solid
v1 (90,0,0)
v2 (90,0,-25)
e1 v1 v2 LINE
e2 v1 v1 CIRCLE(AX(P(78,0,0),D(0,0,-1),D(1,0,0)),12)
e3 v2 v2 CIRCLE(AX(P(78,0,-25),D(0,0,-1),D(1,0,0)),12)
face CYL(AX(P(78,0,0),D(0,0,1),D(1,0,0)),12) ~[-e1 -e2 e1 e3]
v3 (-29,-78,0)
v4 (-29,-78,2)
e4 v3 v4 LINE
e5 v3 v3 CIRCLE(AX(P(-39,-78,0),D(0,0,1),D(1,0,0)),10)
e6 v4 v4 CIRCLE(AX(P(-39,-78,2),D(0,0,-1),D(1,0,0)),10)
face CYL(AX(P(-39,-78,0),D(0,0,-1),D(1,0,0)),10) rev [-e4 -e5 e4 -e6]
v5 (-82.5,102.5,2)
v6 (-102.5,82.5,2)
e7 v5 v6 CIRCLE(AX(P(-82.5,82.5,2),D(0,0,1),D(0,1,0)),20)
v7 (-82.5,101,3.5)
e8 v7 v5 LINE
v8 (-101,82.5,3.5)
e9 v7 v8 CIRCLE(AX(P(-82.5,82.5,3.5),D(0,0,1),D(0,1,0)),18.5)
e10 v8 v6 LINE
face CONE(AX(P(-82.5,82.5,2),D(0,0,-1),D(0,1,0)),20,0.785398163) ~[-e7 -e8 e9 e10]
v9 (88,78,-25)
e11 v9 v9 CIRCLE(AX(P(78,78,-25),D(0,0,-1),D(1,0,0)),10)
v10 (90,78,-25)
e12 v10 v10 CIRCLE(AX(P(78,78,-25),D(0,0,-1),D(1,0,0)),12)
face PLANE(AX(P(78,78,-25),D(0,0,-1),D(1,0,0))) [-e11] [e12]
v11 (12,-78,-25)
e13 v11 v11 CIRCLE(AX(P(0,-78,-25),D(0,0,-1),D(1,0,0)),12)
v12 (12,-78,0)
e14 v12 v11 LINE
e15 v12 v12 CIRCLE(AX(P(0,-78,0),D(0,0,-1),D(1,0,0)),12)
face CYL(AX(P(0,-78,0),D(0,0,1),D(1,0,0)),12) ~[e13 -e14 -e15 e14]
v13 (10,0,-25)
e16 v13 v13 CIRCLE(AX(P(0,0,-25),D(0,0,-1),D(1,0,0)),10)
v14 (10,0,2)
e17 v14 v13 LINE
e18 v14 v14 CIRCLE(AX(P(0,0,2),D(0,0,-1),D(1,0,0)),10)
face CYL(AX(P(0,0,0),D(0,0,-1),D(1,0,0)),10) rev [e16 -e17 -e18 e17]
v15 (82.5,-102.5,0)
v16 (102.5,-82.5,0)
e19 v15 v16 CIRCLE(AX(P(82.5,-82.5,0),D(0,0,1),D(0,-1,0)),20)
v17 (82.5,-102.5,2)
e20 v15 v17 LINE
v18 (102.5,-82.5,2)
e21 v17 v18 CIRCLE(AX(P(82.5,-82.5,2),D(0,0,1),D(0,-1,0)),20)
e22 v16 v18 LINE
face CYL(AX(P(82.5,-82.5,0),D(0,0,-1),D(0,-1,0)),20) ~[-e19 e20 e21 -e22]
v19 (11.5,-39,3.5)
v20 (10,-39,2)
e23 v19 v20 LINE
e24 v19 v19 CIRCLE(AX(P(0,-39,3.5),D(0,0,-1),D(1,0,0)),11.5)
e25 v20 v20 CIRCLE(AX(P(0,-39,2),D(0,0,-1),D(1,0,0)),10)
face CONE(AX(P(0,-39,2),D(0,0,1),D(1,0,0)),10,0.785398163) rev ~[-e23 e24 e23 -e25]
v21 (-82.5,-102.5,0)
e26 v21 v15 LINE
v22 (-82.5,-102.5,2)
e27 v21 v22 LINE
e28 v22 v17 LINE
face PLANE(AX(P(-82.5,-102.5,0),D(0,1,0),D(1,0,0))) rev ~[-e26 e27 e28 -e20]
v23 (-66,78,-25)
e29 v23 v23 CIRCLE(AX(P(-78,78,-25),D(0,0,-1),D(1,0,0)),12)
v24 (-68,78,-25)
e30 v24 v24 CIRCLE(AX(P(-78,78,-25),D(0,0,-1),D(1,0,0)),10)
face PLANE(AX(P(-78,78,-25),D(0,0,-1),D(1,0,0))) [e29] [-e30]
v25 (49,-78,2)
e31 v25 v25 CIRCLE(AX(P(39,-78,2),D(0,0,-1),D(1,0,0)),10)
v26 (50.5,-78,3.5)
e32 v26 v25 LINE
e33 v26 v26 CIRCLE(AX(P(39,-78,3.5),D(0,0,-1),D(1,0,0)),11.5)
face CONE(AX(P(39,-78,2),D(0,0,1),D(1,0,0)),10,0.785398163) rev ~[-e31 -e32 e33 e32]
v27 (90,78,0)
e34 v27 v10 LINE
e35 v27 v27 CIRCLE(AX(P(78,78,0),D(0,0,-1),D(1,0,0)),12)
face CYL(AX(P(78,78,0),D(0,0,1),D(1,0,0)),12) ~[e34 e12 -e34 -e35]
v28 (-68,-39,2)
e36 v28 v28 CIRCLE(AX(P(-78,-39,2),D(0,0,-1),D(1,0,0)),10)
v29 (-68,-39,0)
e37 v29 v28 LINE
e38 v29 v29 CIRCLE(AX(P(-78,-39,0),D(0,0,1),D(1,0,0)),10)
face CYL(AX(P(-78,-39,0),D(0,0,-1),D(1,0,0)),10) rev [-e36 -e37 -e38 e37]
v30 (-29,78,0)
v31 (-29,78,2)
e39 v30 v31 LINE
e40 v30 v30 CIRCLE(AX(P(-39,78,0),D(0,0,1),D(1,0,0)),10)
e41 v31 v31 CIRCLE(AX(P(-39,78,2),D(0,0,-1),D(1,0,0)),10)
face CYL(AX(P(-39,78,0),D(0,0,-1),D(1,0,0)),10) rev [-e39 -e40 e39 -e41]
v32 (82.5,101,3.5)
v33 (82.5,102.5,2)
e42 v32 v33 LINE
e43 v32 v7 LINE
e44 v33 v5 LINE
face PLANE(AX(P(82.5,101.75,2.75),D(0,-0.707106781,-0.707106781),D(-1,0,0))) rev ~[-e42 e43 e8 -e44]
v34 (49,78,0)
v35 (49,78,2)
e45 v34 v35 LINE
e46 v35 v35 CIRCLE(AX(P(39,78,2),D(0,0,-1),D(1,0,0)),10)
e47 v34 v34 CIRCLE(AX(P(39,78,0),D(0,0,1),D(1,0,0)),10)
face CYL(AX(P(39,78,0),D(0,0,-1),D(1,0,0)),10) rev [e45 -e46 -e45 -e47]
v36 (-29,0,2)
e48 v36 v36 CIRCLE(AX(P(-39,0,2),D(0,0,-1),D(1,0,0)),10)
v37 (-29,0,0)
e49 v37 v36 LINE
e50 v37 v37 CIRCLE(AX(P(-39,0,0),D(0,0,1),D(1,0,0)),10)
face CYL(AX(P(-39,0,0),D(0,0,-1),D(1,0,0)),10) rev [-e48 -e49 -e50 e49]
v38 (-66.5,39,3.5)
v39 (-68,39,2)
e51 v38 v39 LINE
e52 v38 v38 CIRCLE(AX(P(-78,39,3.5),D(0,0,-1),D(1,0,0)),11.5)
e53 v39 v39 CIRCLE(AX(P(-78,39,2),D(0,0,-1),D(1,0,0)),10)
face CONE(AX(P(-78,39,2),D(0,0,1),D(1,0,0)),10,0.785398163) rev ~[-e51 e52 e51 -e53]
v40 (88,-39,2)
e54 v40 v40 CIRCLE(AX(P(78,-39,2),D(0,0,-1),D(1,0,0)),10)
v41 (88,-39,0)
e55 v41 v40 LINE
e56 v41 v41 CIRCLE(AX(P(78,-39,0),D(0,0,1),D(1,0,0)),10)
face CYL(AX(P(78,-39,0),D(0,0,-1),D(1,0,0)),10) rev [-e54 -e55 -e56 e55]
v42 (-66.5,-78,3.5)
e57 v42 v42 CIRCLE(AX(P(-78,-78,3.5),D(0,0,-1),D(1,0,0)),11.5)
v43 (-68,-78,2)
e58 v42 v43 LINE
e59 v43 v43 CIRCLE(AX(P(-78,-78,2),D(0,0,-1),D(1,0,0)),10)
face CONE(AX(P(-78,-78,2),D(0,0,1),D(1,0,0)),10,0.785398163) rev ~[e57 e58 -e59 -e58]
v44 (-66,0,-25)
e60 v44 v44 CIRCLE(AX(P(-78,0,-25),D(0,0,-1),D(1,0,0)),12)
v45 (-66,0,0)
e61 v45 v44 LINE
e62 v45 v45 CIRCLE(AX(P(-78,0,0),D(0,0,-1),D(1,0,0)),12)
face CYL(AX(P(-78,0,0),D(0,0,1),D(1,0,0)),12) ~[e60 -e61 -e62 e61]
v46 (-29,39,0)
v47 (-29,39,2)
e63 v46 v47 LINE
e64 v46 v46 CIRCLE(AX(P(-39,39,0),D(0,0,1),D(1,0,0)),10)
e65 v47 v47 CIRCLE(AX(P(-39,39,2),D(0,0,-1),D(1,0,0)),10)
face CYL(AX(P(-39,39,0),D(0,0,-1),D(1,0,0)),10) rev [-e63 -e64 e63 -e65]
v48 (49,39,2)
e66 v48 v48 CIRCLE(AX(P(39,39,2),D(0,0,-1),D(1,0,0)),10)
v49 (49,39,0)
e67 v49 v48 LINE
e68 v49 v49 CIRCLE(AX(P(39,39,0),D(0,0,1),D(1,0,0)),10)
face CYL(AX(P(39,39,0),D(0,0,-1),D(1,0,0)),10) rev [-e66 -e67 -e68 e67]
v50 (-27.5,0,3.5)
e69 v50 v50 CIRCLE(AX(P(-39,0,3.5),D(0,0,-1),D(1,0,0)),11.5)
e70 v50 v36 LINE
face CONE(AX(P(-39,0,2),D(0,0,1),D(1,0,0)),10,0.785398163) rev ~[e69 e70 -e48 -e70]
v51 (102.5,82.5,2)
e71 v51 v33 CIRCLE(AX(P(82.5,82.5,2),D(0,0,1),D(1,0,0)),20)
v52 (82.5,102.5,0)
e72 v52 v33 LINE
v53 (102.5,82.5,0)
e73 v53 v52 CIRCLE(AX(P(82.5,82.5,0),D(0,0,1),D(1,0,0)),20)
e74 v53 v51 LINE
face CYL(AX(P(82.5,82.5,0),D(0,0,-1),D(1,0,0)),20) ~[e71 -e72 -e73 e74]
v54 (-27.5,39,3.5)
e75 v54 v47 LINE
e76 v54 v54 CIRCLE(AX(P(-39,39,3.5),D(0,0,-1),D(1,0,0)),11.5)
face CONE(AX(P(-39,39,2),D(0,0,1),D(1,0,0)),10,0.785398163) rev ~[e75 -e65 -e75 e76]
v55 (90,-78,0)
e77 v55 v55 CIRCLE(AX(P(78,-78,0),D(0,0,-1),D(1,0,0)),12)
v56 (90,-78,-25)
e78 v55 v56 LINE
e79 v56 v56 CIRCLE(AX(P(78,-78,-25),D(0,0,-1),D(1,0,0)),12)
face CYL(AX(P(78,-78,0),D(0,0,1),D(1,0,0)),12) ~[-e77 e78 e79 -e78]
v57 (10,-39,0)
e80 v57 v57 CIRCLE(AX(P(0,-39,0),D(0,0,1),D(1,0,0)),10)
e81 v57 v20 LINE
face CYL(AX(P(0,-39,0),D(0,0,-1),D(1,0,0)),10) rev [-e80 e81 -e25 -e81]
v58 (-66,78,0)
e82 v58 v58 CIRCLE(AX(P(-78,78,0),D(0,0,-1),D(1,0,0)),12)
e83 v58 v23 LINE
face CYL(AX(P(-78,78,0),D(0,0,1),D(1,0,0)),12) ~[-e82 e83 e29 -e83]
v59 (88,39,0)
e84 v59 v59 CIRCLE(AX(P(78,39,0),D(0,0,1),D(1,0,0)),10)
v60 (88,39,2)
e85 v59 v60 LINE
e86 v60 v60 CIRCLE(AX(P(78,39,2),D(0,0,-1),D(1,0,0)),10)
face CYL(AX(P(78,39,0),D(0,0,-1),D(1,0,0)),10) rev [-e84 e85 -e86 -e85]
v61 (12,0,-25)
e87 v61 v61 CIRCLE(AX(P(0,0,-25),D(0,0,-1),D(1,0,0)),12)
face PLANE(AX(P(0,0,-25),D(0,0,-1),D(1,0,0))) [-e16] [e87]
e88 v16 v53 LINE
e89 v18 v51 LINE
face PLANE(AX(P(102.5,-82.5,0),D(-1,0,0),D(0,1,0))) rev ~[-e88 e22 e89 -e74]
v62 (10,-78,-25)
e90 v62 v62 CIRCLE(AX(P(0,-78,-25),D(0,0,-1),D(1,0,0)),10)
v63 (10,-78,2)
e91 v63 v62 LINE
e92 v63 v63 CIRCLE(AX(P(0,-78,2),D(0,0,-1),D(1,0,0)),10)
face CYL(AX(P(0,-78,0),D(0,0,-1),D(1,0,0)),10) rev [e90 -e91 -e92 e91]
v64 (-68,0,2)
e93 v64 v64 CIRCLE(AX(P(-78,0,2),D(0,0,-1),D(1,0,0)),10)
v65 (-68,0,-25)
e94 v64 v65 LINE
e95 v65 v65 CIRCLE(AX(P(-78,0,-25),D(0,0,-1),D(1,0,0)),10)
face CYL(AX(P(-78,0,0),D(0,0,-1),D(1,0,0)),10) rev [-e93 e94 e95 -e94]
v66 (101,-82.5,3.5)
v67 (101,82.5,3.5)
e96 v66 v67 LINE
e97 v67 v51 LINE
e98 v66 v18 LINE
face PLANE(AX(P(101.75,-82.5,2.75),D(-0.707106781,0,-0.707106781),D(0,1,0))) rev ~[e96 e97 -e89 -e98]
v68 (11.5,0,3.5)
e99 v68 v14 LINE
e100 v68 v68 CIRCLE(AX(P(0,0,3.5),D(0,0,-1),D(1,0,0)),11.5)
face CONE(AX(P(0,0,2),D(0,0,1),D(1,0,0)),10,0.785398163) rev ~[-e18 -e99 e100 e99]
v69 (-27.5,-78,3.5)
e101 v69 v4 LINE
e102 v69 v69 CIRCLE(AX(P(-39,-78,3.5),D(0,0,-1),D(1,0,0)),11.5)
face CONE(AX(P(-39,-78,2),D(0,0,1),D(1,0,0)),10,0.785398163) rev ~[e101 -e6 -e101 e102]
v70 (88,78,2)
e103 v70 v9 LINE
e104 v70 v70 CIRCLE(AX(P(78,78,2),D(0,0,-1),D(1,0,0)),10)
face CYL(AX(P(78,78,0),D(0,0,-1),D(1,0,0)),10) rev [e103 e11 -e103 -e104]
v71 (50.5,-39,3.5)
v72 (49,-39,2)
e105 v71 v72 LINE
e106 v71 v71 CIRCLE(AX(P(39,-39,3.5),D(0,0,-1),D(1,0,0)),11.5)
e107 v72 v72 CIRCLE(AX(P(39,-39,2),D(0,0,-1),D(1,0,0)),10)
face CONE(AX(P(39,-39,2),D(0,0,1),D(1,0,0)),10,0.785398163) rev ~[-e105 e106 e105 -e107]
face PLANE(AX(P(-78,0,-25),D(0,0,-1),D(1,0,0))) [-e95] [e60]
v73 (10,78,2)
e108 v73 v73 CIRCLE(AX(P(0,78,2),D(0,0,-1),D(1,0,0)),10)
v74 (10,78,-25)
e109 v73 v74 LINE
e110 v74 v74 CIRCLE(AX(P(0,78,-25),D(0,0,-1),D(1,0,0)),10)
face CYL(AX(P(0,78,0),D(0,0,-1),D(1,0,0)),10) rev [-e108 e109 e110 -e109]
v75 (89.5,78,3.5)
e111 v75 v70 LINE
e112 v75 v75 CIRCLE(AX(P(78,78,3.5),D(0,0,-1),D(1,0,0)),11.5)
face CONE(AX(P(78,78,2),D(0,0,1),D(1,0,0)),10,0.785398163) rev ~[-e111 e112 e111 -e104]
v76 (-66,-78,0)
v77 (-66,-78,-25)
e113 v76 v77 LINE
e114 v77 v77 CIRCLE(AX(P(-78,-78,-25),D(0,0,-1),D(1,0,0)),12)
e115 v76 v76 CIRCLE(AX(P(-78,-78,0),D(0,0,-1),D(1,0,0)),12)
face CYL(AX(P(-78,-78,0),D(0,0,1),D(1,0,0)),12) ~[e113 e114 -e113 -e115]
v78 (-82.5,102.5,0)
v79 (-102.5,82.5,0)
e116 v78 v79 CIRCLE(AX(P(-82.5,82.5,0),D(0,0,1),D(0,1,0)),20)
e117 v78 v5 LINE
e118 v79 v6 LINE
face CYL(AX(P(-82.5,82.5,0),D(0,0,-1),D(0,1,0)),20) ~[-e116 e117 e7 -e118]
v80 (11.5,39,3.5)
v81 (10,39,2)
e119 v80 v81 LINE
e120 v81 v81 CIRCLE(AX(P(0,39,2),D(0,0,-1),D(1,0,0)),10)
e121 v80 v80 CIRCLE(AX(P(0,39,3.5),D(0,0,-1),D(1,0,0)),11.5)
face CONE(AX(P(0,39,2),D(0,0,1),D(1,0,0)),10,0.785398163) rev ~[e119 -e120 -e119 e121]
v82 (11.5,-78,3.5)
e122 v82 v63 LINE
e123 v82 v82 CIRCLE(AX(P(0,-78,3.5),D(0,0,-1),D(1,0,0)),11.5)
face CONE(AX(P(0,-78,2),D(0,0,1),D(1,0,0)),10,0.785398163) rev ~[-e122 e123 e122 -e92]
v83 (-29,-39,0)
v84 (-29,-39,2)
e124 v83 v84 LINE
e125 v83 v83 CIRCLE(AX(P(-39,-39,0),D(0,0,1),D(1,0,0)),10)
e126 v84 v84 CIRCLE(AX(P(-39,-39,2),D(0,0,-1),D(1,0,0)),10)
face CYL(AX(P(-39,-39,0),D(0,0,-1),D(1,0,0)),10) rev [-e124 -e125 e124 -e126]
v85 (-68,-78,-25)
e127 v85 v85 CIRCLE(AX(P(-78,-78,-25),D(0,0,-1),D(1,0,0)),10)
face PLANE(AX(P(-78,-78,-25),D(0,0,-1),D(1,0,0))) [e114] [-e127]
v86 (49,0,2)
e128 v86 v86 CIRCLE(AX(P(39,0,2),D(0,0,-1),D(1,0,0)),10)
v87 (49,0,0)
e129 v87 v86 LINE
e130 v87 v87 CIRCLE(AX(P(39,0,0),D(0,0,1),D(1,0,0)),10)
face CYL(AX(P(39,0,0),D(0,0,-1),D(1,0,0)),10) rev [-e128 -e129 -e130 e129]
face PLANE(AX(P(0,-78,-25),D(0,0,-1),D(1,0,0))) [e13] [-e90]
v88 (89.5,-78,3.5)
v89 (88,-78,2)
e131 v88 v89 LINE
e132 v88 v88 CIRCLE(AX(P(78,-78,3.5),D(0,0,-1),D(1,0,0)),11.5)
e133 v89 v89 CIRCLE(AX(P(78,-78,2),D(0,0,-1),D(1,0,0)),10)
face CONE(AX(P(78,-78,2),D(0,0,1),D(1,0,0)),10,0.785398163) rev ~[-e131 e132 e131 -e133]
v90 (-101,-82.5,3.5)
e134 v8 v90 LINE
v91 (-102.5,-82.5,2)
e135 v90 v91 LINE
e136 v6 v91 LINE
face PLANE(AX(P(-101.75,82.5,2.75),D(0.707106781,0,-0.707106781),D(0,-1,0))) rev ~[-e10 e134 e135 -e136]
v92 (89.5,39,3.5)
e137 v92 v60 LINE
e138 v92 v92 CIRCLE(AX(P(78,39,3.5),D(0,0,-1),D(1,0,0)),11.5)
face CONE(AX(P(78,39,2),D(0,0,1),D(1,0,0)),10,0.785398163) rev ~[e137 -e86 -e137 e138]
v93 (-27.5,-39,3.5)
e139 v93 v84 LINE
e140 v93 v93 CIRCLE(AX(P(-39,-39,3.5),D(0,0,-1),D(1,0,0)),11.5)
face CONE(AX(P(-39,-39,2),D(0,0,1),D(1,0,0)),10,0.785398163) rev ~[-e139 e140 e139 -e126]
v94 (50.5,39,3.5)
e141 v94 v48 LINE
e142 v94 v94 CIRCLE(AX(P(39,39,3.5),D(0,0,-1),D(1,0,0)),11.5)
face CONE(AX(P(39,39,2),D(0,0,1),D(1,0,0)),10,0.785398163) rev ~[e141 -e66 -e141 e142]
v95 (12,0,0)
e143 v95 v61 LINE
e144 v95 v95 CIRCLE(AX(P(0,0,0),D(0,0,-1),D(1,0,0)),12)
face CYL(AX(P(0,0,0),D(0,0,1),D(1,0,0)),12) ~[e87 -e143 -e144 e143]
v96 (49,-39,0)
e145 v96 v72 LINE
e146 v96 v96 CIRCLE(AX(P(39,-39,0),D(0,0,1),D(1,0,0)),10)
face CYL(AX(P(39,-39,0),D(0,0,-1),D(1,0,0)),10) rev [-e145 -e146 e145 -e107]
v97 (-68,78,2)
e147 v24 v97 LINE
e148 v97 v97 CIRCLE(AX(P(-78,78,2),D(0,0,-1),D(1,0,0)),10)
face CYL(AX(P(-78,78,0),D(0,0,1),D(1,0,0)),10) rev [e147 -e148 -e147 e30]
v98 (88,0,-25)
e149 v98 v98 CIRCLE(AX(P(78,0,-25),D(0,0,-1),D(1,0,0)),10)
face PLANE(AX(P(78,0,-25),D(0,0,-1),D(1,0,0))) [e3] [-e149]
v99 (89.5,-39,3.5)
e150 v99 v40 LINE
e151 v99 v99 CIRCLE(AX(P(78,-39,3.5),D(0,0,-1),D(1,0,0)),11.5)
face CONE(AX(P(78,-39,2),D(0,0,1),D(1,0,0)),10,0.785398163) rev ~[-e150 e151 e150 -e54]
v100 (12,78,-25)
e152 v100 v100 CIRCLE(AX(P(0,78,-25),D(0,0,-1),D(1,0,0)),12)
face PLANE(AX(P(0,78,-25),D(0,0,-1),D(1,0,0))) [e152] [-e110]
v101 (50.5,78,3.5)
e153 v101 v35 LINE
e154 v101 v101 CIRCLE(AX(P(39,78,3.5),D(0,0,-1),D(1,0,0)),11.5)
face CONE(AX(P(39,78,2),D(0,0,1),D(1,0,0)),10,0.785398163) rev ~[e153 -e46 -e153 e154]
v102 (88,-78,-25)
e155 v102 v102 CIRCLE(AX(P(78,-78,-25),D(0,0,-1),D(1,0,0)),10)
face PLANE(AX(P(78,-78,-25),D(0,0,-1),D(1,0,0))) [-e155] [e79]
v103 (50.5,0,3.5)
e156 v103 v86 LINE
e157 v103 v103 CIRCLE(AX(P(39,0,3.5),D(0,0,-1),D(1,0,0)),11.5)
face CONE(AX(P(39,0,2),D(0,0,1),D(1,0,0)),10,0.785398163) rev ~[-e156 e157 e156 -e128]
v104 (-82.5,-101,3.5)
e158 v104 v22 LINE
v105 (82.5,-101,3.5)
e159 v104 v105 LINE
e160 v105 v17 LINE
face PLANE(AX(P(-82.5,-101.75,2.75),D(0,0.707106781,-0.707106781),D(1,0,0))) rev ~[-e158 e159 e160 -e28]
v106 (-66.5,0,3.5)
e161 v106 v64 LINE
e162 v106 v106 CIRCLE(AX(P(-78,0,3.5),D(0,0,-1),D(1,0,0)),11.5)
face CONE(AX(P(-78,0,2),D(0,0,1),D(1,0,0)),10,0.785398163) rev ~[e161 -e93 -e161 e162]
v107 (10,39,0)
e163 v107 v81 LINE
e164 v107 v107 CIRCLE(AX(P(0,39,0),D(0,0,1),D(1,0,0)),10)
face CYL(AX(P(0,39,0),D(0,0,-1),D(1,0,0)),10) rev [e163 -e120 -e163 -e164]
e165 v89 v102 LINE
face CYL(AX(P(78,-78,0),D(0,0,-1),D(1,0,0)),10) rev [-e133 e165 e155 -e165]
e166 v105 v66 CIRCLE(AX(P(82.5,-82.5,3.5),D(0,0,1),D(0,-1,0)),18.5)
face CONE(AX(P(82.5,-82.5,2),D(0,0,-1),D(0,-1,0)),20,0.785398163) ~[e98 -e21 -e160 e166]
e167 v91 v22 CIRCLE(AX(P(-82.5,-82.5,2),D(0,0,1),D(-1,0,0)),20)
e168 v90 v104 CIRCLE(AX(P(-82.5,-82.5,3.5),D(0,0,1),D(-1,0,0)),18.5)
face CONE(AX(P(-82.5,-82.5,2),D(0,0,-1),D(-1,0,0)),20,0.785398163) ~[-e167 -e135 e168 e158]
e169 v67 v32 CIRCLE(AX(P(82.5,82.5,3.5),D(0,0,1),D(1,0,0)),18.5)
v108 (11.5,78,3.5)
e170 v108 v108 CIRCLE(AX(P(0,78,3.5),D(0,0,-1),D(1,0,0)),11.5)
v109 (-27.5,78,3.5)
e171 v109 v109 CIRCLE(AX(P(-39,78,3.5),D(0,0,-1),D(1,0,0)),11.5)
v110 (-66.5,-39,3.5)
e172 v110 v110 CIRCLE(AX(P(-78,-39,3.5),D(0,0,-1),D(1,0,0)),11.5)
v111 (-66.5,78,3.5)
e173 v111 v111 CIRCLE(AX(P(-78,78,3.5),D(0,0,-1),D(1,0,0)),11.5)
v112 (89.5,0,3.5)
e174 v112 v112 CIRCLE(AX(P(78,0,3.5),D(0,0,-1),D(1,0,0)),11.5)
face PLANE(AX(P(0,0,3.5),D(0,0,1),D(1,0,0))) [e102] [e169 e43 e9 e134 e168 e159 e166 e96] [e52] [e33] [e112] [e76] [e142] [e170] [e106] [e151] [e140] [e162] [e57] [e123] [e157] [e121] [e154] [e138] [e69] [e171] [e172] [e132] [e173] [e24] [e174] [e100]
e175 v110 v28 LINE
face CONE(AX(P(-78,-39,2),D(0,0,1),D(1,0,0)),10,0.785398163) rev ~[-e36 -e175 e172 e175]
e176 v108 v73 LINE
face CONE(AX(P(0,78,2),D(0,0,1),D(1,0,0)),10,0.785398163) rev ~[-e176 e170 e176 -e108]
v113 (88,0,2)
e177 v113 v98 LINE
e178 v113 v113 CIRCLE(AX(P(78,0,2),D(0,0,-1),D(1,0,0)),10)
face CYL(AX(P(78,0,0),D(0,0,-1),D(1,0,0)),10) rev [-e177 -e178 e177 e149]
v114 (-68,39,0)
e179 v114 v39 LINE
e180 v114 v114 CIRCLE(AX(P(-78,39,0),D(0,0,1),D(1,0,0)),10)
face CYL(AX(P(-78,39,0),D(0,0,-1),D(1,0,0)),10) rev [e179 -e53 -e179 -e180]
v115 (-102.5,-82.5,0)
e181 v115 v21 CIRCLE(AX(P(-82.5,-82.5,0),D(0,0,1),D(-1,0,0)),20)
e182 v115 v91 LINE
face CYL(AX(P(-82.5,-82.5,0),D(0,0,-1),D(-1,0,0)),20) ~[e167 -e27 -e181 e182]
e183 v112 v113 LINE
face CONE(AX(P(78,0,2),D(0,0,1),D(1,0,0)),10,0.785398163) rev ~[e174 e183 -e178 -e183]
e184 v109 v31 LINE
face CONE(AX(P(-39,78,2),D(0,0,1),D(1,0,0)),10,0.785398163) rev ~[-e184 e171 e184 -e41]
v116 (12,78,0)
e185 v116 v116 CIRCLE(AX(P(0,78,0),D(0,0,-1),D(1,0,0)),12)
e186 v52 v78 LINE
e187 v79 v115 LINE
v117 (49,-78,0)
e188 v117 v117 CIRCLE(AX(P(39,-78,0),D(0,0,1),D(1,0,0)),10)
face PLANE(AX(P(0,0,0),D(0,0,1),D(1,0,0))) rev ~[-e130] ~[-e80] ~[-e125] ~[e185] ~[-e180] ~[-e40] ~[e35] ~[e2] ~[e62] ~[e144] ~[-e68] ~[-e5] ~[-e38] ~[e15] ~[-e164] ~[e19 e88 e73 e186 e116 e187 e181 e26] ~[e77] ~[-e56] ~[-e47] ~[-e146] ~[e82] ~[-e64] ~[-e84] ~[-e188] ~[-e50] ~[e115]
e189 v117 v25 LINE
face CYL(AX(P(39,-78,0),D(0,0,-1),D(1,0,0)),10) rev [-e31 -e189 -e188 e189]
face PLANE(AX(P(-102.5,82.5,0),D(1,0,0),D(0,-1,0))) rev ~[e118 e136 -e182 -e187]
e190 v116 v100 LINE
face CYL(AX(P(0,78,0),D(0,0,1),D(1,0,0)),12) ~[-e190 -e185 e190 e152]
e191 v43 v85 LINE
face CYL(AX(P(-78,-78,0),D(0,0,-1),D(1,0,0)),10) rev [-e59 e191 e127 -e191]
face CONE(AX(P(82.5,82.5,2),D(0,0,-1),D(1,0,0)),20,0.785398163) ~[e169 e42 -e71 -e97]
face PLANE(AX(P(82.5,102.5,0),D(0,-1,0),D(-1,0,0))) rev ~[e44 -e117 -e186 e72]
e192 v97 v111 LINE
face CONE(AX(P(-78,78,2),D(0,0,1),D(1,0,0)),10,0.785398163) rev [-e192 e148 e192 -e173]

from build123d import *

# Parameters (mm, degrees)
F1_DEPTH = 3.5
F2_R     = 10
F3_DEPTH = 3.501
F4_R     = 12
F4_R_2   = 10
F5_DEPTH = 25
F6_SIZE  = 1.5


with BuildPart() as f1:
    # F0 (on Top) → F1 (new body)
    with BuildSketch(Plane.XY):
        with BuildLine():
            ThreePointArc((102.5, 82.5), (96.6421356237, 96.6421356237), (82.5, 102.5))
            Line((82.5, 102.5), (-82.5, 102.5))
            ThreePointArc((-82.5, 102.5), (-96.6421356237, 96.6421356237), (-102.5, 82.5))
            Line((-102.5, 82.5), (-102.5, -82.5))
            ThreePointArc((-102.5, -82.5), (-96.6421356237, -96.6421356237), (-82.5, -102.5))
            Line((-82.5, -102.5), (82.5, -102.5))
            ThreePointArc((82.5, -102.5), (96.6421356237, -96.6421356237), (102.5, -82.5))
            Line((102.5, -82.5), (102.5, 82.5))
        make_face()
    extrude(amount=F1_DEPTH)

    # F2 (on Top) → F3 (cut, through all)
    with BuildSketch(Plane.XY):
        with Locations((-78, 78)):
            Circle(F2_R)
        with Locations((-78, 39)):
            Circle(F2_R)
        with Locations((-78, 0)):
            Circle(F2_R)
        with Locations((-78, -39)):
            Circle(F2_R)
        with Locations((-78, -78)):
            Circle(F2_R)
        with Locations((-39, 78)):
            Circle(F2_R)
        with Locations((-39, 39)):
            Circle(F2_R)
        with Locations((-39, 0)):
            Circle(F2_R)
        with Locations((-39, -39)):
            Circle(F2_R)
        with Locations((-39, -78)):
            Circle(F2_R)
        with Locations((0, 78)):
            Circle(F2_R)
        with Locations((0, 39)):
            Circle(F2_R)
        Circle(F2_R)
        with Locations((0, -39)):
            Circle(F2_R)
        with Locations((0, -78)):
            Circle(F2_R)
        with Locations((39, 78)):
            Circle(F2_R)
        with Locations((39, 39)):
            Circle(F2_R)
        with Locations((39, 0)):
            Circle(F2_R)
        with Locations((39, -39)):
            Circle(F2_R)
        with Locations((39, -78)):
            Circle(F2_R)
        with Locations((78, 78)):
            Circle(F2_R)
        with Locations((78, 39)):
            Circle(F2_R)
        with Locations((78, 0)):
            Circle(F2_R)
        with Locations((78, -39)):
            Circle(F2_R)
        with Locations((78, -78)):
            Circle(F2_R)
    extrude(amount=F3_DEPTH, mode=Mode.SUBTRACT)

    # F4 (on face) → F5 (join)
    with BuildSketch(Plane(origin=(0, 0, 0), x_dir=(1, 0, 0), z_dir=(0, 0, -1))):
        with Locations((-78, -78)):
            Circle(F4_R)
        with Locations((-78, -78)):
            Circle(F4_R_2, mode=Mode.SUBTRACT)
        with Locations((-78, 0)):
            Circle(F4_R)
        with Locations((-78, 0)):
            Circle(F4_R_2, mode=Mode.SUBTRACT)
        with Locations((-78, 78)):
            Circle(F4_R)
        with Locations((-78, 78)):
            Circle(F4_R_2, mode=Mode.SUBTRACT)
        with Locations((0, -78)):
            Circle(F4_R)
        with Locations((0, -78)):
            Circle(F4_R_2, mode=Mode.SUBTRACT)
        Circle(F4_R)
        Circle(F4_R_2, mode=Mode.SUBTRACT)
        with Locations((0, 78)):
            Circle(F4_R)
        with Locations((0, 78)):
            Circle(F4_R_2, mode=Mode.SUBTRACT)
        with Locations((78, -78)):
            Circle(F4_R)
        with Locations((78, -78)):
            Circle(F4_R_2, mode=Mode.SUBTRACT)
        with Locations((78, 0)):
            Circle(F4_R)
        with Locations((78, 0)):
            Circle(F4_R_2, mode=Mode.SUBTRACT)
        with Locations((78, 78)):
            Circle(F4_R)
        with Locations((78, 78)):
            Circle(F4_R_2, mode=Mode.SUBTRACT)
    extrude(amount=F5_DEPTH)

    # F6
    f6_edges = [f1.edges().sort_by_distance(p)[0] for p in [
        (96.642136, 96.642136, 3.5),
        (102.5, 0, 3.5),
        (0, 102.5, 3.5),
        (96.642136, -96.642136, 3.5),
        (-96.642136, 96.642136, 3.5),
        (0, -102.5, 3.5),
        (-102.5, 0, 3.5),
        (-96.642136, -96.642136, 3.5),
        (-88, -78, 3.5),
        (-49, -78, 3.5),
        (-88, -39, 3.5),
        (-49, -39, 3.5),
        (-10, -78, 3.5),
        (29, -78, 3.5),
        (68, -78, 3.5),
        (-10, -39, 3.5),
        (29, -39, 3.5),
        (68, -39, 3.5),
        (-88, 0, 3.5),
        (-88, 39, 3.5),
        (-49, 0, 3.5),
        (-49, 39, 3.5),
        (-88, 78, 3.5),
        (-49, 78, 3.5),
        (-10, 0, 3.5),
        (29, 0, 3.5),
        (-10, 39, 3.5),
        (29, 39, 3.5),
        (68, 0, 3.5),
        (68, 39, 3.5),
        (-10, 78, 3.5),
        (29, 78, 3.5),
        (68, 78, 3.5),
    ]]
    chamfer(f6_edges, length=F6_SIZE)


solid = f1.part
